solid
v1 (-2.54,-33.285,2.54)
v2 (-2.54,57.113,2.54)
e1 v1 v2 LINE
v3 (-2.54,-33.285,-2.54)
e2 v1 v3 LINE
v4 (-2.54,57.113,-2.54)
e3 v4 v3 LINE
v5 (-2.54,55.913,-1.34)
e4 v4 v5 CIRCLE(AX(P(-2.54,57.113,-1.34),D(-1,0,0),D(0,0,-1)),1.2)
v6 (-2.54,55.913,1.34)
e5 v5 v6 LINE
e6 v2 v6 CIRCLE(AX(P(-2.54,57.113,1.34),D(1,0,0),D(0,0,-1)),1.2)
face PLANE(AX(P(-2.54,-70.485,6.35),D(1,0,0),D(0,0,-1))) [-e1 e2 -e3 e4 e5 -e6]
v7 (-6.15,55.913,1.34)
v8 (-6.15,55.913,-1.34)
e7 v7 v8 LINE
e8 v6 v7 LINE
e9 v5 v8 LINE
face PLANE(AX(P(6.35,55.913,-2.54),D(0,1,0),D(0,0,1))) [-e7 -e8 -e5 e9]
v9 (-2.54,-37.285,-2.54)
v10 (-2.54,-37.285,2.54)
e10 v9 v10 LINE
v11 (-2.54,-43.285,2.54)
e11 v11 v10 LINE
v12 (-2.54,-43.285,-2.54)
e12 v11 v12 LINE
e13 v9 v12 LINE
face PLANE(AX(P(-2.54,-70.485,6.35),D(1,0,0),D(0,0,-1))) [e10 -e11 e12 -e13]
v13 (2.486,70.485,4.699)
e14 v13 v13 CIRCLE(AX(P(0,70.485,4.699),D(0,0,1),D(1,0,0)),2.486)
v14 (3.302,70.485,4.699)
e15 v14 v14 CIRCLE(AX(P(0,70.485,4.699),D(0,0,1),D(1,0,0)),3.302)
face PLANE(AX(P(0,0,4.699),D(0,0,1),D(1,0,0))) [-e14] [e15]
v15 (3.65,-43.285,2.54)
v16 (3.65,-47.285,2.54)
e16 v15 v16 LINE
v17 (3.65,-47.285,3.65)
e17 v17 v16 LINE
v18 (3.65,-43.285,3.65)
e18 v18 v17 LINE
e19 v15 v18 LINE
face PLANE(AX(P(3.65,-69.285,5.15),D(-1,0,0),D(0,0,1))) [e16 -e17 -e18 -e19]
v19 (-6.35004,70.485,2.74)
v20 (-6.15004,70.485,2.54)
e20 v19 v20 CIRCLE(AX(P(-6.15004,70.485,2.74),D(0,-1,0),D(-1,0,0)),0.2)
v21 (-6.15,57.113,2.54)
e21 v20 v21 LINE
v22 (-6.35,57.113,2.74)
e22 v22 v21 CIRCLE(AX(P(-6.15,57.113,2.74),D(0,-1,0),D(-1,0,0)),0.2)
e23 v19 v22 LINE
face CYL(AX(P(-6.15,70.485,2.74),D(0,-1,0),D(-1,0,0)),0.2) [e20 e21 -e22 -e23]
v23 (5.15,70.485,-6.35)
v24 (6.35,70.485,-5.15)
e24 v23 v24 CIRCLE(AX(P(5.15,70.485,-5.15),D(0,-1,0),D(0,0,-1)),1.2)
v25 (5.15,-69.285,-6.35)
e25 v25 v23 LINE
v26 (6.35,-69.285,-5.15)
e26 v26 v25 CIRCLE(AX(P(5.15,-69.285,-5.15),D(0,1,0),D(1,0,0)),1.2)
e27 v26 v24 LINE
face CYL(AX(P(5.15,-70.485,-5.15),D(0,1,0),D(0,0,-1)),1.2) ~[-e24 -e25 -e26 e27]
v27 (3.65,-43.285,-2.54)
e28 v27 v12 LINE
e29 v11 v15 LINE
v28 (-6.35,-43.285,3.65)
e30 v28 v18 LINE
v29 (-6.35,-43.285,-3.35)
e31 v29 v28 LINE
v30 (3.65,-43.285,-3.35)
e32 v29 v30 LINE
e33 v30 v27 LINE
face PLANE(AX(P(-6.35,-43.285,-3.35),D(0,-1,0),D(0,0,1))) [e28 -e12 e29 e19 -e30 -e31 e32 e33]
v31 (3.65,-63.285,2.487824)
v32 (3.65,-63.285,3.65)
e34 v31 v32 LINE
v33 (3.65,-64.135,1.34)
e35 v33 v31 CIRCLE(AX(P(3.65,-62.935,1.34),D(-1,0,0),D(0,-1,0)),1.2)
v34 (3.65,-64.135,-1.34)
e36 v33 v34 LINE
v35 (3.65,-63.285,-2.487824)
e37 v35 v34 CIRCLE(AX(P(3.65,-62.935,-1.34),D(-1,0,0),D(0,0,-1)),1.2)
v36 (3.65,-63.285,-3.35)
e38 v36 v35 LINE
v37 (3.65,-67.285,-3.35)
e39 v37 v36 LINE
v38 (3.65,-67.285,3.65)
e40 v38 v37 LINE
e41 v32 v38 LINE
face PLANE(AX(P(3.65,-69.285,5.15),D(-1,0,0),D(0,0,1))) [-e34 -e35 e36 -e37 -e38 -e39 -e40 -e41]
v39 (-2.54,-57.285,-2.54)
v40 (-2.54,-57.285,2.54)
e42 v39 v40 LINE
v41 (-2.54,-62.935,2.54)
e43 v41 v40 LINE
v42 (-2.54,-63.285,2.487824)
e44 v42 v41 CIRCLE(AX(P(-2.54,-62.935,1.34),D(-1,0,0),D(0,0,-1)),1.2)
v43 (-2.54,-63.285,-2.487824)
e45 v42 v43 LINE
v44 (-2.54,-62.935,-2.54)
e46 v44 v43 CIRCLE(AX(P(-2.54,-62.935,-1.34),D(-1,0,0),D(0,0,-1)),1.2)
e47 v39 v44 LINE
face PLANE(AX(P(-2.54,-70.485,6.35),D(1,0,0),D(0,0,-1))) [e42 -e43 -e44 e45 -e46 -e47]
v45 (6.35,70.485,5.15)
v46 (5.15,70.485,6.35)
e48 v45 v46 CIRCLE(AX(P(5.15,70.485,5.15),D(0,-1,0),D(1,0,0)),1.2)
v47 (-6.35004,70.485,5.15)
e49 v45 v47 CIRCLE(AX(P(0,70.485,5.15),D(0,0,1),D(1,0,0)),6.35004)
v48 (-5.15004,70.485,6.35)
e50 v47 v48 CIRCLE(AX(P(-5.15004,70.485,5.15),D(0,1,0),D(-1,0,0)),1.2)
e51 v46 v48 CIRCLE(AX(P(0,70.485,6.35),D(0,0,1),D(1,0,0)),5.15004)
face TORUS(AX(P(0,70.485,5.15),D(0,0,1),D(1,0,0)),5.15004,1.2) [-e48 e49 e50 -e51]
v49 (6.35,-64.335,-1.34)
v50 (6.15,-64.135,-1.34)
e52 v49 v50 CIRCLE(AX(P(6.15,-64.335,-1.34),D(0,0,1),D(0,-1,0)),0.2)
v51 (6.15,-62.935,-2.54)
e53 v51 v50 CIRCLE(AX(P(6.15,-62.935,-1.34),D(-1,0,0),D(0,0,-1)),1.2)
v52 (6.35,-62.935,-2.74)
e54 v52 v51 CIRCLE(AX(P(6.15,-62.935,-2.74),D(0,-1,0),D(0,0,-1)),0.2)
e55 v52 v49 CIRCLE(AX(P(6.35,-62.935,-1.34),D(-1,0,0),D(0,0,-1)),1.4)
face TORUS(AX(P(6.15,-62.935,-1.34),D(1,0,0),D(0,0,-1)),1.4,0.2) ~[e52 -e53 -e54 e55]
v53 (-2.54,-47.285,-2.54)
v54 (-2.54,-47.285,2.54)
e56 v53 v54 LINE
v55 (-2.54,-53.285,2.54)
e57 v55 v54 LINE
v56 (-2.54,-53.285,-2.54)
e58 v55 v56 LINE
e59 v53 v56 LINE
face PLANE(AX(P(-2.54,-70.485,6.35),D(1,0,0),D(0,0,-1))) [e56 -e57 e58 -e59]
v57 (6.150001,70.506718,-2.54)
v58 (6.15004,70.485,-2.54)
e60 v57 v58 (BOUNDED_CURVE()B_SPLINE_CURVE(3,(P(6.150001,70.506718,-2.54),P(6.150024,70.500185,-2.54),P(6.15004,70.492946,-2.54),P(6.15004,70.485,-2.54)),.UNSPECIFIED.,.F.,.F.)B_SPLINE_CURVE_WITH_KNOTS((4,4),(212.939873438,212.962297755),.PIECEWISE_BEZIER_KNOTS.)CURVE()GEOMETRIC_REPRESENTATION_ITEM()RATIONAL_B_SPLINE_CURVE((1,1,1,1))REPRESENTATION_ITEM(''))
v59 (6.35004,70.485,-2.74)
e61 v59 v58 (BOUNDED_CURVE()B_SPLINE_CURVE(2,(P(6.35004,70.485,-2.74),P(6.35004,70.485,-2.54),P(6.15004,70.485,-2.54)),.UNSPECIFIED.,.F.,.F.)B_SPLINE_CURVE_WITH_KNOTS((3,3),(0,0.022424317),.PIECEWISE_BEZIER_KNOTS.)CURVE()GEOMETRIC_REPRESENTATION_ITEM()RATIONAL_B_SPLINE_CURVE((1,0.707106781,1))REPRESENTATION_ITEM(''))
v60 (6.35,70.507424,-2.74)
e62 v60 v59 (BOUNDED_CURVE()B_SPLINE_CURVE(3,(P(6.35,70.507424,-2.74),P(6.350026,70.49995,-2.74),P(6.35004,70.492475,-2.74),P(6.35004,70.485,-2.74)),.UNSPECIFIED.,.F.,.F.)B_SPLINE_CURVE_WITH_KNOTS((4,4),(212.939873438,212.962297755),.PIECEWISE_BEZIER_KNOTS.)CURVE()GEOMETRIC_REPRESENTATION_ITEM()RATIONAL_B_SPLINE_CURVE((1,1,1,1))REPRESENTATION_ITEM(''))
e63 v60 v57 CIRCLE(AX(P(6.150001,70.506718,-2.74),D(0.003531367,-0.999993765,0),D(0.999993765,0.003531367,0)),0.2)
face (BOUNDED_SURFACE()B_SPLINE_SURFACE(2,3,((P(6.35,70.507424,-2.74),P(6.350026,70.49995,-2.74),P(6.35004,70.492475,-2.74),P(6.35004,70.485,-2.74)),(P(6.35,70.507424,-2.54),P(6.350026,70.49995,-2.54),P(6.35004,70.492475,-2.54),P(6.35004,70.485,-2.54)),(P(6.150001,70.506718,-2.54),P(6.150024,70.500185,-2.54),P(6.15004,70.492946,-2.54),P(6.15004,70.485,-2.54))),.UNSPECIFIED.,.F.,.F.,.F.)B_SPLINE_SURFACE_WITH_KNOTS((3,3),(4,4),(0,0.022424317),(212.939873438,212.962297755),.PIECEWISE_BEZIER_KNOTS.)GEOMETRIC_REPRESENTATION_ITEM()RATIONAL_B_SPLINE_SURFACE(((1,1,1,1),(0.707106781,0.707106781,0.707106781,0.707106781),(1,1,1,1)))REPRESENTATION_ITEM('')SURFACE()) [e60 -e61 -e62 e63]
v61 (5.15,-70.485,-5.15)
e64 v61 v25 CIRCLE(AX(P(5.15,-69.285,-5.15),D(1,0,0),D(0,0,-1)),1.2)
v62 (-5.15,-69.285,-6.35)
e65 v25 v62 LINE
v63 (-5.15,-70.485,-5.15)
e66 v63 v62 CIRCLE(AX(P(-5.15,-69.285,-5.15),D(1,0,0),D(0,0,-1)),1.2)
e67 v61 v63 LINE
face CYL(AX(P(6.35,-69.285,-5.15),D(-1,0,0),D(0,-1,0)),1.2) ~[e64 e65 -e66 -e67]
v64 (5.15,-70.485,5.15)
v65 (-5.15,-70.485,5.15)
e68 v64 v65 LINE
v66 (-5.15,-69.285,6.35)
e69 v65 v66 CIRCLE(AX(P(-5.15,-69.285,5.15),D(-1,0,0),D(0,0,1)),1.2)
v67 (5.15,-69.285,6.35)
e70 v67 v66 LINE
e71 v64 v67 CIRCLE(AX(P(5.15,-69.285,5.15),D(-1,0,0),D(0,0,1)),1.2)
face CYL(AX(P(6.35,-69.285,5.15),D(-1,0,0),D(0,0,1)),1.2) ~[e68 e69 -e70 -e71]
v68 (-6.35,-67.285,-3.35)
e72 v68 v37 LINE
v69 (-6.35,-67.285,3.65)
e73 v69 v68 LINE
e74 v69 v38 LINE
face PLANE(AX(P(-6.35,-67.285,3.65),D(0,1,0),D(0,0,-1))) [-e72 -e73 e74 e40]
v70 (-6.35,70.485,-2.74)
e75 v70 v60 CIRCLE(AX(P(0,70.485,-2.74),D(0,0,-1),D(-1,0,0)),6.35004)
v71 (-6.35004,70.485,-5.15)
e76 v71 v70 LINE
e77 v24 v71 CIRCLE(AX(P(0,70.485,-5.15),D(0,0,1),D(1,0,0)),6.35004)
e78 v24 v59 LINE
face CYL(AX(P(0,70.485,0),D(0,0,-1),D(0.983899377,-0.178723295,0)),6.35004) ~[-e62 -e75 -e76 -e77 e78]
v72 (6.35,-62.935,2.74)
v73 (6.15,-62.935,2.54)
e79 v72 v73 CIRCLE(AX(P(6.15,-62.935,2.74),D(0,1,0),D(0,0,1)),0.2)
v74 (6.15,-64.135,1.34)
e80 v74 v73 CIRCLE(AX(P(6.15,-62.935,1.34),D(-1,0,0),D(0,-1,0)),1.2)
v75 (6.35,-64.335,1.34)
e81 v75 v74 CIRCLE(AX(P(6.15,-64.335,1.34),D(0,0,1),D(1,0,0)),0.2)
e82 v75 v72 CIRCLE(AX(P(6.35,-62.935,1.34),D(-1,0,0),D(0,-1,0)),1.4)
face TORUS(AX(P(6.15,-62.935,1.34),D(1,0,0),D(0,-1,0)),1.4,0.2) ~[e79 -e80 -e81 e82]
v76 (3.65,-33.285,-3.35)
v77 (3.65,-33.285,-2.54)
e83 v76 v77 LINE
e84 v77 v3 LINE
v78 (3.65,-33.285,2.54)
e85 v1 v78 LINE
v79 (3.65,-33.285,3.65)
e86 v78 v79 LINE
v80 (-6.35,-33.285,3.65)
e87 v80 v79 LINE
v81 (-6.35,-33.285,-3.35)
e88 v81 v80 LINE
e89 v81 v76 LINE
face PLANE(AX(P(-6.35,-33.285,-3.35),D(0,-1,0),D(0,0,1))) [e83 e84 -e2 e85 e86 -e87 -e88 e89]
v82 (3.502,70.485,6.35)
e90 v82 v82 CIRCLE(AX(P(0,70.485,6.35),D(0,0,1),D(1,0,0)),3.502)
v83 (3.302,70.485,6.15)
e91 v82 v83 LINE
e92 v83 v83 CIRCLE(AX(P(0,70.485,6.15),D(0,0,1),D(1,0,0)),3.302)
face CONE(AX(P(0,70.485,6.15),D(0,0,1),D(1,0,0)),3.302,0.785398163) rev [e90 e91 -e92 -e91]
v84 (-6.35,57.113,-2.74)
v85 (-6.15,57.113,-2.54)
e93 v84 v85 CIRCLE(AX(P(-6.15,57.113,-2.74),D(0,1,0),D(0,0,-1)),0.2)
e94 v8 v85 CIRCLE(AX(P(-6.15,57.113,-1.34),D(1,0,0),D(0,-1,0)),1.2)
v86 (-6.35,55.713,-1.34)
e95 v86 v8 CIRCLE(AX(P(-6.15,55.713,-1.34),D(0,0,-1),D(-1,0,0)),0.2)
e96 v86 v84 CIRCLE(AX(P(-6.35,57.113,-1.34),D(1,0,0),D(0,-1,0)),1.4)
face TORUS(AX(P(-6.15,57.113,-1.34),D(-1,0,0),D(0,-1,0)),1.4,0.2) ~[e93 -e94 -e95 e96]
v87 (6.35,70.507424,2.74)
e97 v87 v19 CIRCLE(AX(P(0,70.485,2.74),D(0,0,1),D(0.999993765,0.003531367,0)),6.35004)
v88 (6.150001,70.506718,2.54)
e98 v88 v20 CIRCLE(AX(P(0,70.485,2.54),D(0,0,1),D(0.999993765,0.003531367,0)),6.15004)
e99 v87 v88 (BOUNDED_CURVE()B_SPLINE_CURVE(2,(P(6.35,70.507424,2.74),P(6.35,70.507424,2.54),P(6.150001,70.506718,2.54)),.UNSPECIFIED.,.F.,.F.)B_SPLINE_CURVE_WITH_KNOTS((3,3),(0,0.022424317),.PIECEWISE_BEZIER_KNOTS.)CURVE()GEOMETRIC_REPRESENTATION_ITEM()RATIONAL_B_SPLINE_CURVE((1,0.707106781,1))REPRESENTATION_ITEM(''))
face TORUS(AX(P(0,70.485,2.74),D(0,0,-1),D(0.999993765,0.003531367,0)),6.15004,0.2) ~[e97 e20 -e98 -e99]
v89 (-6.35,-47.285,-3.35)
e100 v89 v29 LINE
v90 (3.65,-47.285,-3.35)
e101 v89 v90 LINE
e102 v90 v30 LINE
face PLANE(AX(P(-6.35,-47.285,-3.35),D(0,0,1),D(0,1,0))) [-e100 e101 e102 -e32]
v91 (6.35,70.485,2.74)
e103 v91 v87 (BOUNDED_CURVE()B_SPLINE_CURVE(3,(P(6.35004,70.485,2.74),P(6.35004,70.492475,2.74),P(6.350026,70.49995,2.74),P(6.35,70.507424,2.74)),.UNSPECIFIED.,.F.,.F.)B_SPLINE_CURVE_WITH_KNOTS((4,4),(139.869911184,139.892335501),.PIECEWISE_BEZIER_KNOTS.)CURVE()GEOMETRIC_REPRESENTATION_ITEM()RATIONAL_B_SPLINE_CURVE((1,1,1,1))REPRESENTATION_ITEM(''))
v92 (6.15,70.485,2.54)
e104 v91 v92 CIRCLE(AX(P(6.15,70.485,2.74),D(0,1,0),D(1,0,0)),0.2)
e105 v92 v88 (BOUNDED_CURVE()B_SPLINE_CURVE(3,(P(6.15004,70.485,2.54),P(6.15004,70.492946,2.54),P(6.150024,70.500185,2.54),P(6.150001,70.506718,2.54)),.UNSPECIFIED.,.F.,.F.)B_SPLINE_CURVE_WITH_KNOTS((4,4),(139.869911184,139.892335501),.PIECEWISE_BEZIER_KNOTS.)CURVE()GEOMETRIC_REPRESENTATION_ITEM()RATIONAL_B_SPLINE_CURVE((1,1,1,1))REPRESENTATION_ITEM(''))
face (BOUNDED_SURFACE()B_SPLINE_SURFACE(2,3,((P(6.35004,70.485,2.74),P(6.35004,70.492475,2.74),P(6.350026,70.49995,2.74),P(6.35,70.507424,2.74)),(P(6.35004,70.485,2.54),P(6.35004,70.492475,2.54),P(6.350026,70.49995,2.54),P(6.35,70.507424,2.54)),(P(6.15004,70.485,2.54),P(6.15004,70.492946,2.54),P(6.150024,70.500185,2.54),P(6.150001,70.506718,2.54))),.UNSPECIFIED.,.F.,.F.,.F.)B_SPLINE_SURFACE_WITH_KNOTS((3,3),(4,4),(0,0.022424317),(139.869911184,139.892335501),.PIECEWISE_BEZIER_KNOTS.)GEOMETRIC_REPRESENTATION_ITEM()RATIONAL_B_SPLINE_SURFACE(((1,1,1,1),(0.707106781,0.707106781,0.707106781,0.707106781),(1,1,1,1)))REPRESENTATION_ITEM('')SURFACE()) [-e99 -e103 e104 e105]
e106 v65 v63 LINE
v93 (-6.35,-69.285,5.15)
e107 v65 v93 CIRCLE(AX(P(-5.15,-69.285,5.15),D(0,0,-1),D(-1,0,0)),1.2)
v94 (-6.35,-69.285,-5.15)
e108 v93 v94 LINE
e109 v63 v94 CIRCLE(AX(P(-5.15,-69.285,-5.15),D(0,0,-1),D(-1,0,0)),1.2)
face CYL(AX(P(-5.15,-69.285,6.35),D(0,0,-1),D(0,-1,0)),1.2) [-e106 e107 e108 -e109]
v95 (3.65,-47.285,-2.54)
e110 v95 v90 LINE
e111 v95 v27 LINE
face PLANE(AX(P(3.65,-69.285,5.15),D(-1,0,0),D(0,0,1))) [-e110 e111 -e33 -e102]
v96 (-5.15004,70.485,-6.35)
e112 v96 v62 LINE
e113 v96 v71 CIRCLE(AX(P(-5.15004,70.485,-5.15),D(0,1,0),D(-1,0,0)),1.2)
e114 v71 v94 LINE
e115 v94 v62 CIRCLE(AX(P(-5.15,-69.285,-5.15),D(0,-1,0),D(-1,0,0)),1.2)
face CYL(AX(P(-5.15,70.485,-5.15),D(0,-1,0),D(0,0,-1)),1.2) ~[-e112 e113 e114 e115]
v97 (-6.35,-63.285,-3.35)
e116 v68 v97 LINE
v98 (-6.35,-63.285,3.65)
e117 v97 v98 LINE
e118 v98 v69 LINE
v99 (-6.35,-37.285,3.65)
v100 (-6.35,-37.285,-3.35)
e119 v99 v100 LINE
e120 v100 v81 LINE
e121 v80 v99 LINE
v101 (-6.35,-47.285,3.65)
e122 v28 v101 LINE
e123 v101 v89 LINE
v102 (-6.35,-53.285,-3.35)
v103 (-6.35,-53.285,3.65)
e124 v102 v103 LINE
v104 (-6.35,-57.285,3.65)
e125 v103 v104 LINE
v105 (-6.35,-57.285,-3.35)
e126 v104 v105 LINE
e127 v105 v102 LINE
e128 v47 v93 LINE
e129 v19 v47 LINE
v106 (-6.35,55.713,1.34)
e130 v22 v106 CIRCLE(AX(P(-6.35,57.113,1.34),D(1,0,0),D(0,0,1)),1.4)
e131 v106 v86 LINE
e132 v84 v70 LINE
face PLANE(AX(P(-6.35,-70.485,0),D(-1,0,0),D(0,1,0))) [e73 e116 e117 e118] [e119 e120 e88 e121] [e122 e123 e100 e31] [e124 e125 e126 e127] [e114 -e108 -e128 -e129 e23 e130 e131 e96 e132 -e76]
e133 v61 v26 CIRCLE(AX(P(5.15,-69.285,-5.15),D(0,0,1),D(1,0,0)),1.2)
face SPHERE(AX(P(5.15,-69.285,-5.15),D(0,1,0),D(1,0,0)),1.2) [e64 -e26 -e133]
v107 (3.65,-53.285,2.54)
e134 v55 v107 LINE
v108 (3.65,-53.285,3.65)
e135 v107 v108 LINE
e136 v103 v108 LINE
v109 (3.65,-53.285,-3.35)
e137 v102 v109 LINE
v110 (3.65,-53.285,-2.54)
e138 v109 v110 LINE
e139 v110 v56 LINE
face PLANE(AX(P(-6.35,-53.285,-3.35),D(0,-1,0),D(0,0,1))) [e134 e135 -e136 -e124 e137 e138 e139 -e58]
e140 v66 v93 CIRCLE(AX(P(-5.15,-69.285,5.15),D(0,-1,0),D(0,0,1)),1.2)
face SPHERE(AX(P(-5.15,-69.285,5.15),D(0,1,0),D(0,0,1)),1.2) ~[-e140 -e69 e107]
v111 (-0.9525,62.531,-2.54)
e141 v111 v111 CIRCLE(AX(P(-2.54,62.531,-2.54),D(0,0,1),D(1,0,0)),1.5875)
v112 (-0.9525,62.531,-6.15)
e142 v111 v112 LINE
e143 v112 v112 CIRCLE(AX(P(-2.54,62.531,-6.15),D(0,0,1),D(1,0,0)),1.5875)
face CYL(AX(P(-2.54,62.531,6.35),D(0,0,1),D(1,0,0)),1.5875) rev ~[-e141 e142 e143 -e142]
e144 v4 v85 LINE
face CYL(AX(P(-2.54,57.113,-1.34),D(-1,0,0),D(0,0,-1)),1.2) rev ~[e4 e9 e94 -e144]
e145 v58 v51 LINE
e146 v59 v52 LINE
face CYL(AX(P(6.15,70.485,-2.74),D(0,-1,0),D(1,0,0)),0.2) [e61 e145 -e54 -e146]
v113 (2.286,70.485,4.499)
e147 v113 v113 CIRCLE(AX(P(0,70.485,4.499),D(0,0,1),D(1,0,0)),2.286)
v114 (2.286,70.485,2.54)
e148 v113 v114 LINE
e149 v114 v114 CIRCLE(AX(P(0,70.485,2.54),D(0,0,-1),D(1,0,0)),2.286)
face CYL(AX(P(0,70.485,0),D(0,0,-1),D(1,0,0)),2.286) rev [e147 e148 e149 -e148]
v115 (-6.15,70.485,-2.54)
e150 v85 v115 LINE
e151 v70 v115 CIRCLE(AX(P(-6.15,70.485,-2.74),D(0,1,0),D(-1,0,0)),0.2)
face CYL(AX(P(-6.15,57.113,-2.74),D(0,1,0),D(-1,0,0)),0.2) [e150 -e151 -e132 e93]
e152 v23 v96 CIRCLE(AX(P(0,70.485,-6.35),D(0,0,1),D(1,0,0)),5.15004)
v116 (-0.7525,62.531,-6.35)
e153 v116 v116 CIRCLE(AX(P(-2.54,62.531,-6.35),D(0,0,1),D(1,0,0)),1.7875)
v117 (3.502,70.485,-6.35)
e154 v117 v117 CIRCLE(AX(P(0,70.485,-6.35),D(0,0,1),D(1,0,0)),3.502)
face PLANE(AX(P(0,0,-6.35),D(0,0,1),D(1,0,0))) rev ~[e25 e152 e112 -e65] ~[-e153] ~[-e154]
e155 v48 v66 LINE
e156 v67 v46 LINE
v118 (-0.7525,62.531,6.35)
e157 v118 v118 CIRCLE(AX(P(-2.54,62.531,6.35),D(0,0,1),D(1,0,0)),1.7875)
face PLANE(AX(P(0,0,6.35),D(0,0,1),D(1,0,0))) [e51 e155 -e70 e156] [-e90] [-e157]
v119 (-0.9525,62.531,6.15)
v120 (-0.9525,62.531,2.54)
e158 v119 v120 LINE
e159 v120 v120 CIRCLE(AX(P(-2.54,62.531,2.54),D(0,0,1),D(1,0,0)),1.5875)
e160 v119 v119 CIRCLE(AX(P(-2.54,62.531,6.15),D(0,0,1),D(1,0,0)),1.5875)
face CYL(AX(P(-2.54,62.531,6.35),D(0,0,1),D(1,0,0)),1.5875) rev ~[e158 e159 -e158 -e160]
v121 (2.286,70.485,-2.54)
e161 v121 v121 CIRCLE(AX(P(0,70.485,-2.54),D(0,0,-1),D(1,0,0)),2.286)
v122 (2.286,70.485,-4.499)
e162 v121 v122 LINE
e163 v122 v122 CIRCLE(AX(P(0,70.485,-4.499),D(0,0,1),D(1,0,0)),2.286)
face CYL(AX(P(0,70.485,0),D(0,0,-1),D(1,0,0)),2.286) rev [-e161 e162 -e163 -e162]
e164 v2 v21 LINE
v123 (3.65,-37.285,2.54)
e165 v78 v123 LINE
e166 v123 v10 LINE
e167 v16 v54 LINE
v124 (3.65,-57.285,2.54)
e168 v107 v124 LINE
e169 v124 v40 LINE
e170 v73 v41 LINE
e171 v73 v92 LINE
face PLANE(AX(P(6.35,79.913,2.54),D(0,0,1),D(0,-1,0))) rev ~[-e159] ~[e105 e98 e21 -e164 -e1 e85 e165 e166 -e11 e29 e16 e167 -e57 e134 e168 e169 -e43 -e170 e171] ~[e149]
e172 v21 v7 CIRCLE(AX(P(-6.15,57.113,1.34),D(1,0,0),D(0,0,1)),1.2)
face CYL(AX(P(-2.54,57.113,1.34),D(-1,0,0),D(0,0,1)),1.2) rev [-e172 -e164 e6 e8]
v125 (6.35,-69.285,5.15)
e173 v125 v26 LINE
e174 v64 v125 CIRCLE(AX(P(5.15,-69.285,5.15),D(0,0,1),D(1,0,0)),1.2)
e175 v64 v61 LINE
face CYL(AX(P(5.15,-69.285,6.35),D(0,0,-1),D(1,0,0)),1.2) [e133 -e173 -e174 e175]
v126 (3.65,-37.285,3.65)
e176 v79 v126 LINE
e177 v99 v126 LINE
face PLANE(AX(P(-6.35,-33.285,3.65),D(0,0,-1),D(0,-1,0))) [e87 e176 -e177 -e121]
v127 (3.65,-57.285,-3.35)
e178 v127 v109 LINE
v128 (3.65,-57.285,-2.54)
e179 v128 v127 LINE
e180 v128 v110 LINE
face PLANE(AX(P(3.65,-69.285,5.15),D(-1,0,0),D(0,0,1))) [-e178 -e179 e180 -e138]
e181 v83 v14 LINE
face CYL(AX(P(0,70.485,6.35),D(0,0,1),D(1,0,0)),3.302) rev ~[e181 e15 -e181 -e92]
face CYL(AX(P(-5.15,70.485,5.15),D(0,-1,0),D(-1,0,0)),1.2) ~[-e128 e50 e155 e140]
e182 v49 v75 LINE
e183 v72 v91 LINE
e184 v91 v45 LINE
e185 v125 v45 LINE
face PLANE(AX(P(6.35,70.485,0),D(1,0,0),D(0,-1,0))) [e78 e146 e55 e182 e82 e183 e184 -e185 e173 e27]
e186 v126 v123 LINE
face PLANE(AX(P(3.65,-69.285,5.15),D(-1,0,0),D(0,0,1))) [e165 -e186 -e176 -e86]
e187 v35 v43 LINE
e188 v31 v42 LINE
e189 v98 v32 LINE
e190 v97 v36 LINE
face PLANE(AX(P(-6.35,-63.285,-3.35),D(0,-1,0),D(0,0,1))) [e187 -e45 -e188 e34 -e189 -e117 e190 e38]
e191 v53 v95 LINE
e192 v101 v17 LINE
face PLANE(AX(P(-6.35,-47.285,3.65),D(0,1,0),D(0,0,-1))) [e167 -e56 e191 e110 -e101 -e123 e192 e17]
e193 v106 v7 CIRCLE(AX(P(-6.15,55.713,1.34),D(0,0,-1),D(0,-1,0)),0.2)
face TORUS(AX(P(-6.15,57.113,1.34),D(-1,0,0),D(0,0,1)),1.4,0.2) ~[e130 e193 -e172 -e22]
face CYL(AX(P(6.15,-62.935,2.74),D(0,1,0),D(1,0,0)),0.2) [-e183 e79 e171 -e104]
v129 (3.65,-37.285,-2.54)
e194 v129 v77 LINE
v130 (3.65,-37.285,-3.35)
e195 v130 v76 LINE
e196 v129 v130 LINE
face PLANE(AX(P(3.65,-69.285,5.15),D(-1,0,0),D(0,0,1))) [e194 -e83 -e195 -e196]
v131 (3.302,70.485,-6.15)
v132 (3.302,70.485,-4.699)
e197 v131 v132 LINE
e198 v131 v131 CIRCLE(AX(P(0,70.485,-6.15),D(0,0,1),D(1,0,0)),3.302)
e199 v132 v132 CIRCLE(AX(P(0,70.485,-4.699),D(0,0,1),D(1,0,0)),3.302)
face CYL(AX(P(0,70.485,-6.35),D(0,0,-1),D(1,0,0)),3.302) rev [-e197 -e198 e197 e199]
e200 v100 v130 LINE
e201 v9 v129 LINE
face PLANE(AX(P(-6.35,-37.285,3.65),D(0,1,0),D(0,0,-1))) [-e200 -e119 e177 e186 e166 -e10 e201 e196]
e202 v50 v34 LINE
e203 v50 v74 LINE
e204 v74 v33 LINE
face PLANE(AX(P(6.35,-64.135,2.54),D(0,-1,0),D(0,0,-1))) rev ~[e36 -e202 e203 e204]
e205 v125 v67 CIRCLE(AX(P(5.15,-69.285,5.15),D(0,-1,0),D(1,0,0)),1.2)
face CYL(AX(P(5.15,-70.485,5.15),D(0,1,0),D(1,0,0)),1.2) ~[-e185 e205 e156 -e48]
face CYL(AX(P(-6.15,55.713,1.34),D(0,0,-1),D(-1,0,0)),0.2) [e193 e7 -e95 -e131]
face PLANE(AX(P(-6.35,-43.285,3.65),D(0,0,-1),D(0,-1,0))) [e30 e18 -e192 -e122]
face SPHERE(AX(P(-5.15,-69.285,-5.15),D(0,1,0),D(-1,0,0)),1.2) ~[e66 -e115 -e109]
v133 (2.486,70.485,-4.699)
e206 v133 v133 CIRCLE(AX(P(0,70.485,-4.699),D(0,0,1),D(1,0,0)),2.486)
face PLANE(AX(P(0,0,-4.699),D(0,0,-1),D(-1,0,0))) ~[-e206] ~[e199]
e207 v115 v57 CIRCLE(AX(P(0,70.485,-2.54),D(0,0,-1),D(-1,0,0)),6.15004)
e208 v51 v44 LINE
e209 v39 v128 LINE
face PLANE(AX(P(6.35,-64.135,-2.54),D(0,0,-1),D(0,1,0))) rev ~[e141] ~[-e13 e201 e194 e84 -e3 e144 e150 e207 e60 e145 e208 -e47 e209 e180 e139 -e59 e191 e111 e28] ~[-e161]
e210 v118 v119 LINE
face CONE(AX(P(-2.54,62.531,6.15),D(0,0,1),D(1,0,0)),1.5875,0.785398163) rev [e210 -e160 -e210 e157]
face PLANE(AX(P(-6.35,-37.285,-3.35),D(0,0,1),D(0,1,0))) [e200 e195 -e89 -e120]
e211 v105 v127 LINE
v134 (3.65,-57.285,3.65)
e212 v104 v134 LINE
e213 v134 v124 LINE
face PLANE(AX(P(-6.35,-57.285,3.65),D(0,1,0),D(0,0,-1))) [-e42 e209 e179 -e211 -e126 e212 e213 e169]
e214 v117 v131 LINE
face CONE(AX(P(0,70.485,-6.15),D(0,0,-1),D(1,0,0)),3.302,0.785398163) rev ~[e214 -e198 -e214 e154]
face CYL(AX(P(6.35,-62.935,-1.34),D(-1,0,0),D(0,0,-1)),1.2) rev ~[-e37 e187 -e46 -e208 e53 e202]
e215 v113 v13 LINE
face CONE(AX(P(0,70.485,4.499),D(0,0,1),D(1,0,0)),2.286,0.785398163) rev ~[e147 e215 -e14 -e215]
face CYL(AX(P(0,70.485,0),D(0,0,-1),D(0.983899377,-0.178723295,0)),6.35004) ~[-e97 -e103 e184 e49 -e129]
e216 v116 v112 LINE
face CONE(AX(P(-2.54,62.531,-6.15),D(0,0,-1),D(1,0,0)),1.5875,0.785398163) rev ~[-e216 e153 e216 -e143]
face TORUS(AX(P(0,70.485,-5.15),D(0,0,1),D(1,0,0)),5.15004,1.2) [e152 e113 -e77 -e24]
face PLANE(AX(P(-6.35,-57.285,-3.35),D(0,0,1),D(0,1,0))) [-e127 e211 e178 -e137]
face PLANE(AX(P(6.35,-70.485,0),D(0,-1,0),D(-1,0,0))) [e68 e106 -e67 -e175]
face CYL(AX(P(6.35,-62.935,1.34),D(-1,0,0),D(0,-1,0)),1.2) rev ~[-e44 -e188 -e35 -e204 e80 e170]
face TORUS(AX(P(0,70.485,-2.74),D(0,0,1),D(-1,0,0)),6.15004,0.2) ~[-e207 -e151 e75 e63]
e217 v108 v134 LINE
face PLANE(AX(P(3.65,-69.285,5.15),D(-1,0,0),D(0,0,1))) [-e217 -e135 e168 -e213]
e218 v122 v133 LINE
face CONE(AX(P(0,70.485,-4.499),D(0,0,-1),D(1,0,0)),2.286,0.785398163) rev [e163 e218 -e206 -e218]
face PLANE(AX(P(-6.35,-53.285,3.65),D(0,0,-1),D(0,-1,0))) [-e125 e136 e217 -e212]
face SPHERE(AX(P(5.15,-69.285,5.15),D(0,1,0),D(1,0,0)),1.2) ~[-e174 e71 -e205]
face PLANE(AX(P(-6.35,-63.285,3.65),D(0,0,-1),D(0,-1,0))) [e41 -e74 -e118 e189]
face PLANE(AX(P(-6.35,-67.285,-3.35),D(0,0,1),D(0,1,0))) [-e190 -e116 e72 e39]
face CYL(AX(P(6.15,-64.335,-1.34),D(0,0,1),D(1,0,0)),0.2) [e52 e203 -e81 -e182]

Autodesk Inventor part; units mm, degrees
ref_plane "YZ Plane" through (0, 0, 0) normal (1, 0, 0) x (0, 1, 0)
ref_plane "XZ Plane" through (0, 0, 0) normal (0, 1, 0) x (-1, 0, 0)
sketch "Sketch1" plane through (0, 0, 0) normal (0, 0, 1) x (1, 0, 0)
  line L0 (6.35, 70.485) -> (6.35, -70.485)
  line L1 (6.35, -70.485) -> (-6.35, -70.485)
  line L2 (-6.35, -70.485) -> (-6.35, 70.485)
  line L3 (-6.35, 70.485) -> (6.35, -70.485) construction
  line L4 (6.35, 70.485) -> (-6.35, -70.485) construction
  arc A0 (6.2478, 69.3501) -> (-6.2478, 69.3501) centre (0, 70.485) ccw
  circle A1 centre (0, 70.485) radius 2.286
  point P0 (0, 0)
  point P1 (-6.35, 70.485)
  dimension "d0" = 12.7
  dimension "d1" = 140.97
  dimension "d2" = 4.572
extrude "Extrusion1" add sketch "Sketch1" along normal mid plane 12.7
sketch "Sketch2" plane through (6.35, -70.485, 6.35) normal (1, 0, 0) x (0, 0, -1)
  line L0 (3.81, 6.35) -> (8.89, 6.35)
  line L1 (8.89, 6.35) -> (8.89, 126.398)
  line L2 (8.89, 126.398) -> (3.81, 126.398)
  line L3 (3.81, 126.398) -> (3.81, 6.35)
  line L4 (3.81, 6.35) -> (8.89, 126.398) construction
  line L5 (8.89, 6.35) -> (3.81, 126.398) construction
  line L6 (0, 0) -> (12.7, 0) projected
  line L7 (12.7, 140.97) -> (12.7, 0) projected
  line L8 (3.81, 126.398) -> (8.89, 126.398)
  line L9 (8.89, 126.398) -> (8.89, 150.398)
  line L10 (8.89, 150.398) -> (3.81, 150.398)
  line L11 (3.81, 150.398) -> (3.81, 126.398)
  point P0 (6.35, 70.485)
  point P1 (6.35, 66.374)
  dimension "d5" = 6.35
  dimension "d6" = 5.08
  dimension "d7" = 3.81
  dimension "d8" = 120.048
  dimension "d9" = 5.08
  dimension "d10" = 24
extrude "Extrusion2" cut sketch "Sketch2" against normal blind 8.89 contours L3 L2 L1 L0
extrude "Extrusion3" cut sketch "Sketch2" against normal through all contours L11 L10 L9 L2
sketch "Sketch3" plane through (0, 0, 6.35) normal (0, 0, 1) x (1, 0, 0)
  circle A0 centre (0, 70.485) radius 2.286 projected
  circle A1 centre (-2.54, 62.531) radius 1.5875
  point P0 (0, 0)
  dimension "d15" = 3.175
  dimension "d16" = 7.954
  dimension "d17" = 2.54
extrude "Extrusion4" cut sketch "Sketch3" against normal through all contours A1
fillet "Fillet1" radius 1.2 14 edges at (-4.445, 55.913, -2.54) (-4.445, 55.913, 2.54) (0, 76.835, 6.35) (-6.35, 0, 6.35) (6.35, 0, 6.35) (0, 76.835, -6.35) (-6.35, 0, -6.35) (6.35, 0, -6.35) (6.35, -70.485, 0) (0, -70.485, 6.35) (-6.35, -70.485, 0) (0, -70.485, -6.35) (1.905, -64.135, -2.54) (1.905, -64.135, 2.54)
sketch "Sketch5" plane through (0, 0, 6.35) normal (0, 0, 1) x (1, 0, 0)
  circle A0 centre (0, 70.485) radius 2.286 projected
  circle A1 centre (0, 70.485) radius 3.302
  point P0 (0, 0)
  dimension "d25" = 6.604
extrude "Extrusion6" cut sketch "Sketch5" against normal blind 1.651
ref_plane "Work Plane1" through (0, 0, 0) normal (0, 0, 1) x (1, 0, 0)
mirror "Mirror1" about plane through (0, 0, 0) normal (0, 0, 1) of "Extrusion6"
sketch "Sketch6" plane through (-6.35, -69.285, 5.15) normal (-1, 0, 0) x (0, 0, 1)
  line L0 (-1.5, 2) -> (-8.5, 2)
  line L1 (-8.5, 2) -> (-8.5, 6)
  line L2 (-8.5, 6) -> (-1.5, 6)
  line L3 (-1.5, 6) -> (-1.5, 2)
  line L4 (-8.5, 16) -> (-1.5, 16)
  line L5 (-8.5, 12) -> (-8.5, 16)
  line L6 (-1.5, 12) -> (-8.5, 12)
  line L7 (-1.5, 16) -> (-1.5, 12)
  line L8 (-8.5, 26) -> (-1.5, 26)
  line L9 (-8.5, 22) -> (-8.5, 26)
  line L10 (-1.5, 22) -> (-8.5, 22)
  line L11 (-1.5, 26) -> (-1.5, 22)
  line L12 (-8.5, 36) -> (-1.5, 36)
  line L13 (-8.5, 32) -> (-8.5, 36)
  line L14 (-1.5, 32) -> (-8.5, 32)
  line L15 (-1.5, 36) -> (-1.5, 32)
  line L16 (0, 0) -> (-10.3, 0) projected
  line L17 (0, 139.77) -> (0, 0) projected
  point P0 (-5.15, 69.285)
  dimension "d32" = 7
  dimension "d33" = 4
  dimension "d34" = 10
  dimension "d36" = 2
  dimension "d37" = 1.5
extrude "Extrusion7" cut sketch "Sketch6" against normal blind 10
fillet "Fillet2" radius 0.2 8 edges at (6.35, -63.7835, -2.1885) (6.35, -64.135, 0) (6.35, -63.7835, 2.1885) (6.35, 3.775, 2.54) (-6.35, 56.2645, 2.1885) (-6.35, 55.913, 0) (-6.35, 56.2645, -2.1885) (6.35, 3.775, -2.54)
chamfer "Chamfer1" distance 0.2 angle 45 6 edges at (-3.302, 70.485, 6.35) (-2.286, 70.485, 4.699) (-3.302, 70.485, -6.35) (-2.286, 70.485, -4.699) (-4.1275, 62.531, -6.35) (-4.1275, 62.531, 6.35)
properties part number "Body_Right"
